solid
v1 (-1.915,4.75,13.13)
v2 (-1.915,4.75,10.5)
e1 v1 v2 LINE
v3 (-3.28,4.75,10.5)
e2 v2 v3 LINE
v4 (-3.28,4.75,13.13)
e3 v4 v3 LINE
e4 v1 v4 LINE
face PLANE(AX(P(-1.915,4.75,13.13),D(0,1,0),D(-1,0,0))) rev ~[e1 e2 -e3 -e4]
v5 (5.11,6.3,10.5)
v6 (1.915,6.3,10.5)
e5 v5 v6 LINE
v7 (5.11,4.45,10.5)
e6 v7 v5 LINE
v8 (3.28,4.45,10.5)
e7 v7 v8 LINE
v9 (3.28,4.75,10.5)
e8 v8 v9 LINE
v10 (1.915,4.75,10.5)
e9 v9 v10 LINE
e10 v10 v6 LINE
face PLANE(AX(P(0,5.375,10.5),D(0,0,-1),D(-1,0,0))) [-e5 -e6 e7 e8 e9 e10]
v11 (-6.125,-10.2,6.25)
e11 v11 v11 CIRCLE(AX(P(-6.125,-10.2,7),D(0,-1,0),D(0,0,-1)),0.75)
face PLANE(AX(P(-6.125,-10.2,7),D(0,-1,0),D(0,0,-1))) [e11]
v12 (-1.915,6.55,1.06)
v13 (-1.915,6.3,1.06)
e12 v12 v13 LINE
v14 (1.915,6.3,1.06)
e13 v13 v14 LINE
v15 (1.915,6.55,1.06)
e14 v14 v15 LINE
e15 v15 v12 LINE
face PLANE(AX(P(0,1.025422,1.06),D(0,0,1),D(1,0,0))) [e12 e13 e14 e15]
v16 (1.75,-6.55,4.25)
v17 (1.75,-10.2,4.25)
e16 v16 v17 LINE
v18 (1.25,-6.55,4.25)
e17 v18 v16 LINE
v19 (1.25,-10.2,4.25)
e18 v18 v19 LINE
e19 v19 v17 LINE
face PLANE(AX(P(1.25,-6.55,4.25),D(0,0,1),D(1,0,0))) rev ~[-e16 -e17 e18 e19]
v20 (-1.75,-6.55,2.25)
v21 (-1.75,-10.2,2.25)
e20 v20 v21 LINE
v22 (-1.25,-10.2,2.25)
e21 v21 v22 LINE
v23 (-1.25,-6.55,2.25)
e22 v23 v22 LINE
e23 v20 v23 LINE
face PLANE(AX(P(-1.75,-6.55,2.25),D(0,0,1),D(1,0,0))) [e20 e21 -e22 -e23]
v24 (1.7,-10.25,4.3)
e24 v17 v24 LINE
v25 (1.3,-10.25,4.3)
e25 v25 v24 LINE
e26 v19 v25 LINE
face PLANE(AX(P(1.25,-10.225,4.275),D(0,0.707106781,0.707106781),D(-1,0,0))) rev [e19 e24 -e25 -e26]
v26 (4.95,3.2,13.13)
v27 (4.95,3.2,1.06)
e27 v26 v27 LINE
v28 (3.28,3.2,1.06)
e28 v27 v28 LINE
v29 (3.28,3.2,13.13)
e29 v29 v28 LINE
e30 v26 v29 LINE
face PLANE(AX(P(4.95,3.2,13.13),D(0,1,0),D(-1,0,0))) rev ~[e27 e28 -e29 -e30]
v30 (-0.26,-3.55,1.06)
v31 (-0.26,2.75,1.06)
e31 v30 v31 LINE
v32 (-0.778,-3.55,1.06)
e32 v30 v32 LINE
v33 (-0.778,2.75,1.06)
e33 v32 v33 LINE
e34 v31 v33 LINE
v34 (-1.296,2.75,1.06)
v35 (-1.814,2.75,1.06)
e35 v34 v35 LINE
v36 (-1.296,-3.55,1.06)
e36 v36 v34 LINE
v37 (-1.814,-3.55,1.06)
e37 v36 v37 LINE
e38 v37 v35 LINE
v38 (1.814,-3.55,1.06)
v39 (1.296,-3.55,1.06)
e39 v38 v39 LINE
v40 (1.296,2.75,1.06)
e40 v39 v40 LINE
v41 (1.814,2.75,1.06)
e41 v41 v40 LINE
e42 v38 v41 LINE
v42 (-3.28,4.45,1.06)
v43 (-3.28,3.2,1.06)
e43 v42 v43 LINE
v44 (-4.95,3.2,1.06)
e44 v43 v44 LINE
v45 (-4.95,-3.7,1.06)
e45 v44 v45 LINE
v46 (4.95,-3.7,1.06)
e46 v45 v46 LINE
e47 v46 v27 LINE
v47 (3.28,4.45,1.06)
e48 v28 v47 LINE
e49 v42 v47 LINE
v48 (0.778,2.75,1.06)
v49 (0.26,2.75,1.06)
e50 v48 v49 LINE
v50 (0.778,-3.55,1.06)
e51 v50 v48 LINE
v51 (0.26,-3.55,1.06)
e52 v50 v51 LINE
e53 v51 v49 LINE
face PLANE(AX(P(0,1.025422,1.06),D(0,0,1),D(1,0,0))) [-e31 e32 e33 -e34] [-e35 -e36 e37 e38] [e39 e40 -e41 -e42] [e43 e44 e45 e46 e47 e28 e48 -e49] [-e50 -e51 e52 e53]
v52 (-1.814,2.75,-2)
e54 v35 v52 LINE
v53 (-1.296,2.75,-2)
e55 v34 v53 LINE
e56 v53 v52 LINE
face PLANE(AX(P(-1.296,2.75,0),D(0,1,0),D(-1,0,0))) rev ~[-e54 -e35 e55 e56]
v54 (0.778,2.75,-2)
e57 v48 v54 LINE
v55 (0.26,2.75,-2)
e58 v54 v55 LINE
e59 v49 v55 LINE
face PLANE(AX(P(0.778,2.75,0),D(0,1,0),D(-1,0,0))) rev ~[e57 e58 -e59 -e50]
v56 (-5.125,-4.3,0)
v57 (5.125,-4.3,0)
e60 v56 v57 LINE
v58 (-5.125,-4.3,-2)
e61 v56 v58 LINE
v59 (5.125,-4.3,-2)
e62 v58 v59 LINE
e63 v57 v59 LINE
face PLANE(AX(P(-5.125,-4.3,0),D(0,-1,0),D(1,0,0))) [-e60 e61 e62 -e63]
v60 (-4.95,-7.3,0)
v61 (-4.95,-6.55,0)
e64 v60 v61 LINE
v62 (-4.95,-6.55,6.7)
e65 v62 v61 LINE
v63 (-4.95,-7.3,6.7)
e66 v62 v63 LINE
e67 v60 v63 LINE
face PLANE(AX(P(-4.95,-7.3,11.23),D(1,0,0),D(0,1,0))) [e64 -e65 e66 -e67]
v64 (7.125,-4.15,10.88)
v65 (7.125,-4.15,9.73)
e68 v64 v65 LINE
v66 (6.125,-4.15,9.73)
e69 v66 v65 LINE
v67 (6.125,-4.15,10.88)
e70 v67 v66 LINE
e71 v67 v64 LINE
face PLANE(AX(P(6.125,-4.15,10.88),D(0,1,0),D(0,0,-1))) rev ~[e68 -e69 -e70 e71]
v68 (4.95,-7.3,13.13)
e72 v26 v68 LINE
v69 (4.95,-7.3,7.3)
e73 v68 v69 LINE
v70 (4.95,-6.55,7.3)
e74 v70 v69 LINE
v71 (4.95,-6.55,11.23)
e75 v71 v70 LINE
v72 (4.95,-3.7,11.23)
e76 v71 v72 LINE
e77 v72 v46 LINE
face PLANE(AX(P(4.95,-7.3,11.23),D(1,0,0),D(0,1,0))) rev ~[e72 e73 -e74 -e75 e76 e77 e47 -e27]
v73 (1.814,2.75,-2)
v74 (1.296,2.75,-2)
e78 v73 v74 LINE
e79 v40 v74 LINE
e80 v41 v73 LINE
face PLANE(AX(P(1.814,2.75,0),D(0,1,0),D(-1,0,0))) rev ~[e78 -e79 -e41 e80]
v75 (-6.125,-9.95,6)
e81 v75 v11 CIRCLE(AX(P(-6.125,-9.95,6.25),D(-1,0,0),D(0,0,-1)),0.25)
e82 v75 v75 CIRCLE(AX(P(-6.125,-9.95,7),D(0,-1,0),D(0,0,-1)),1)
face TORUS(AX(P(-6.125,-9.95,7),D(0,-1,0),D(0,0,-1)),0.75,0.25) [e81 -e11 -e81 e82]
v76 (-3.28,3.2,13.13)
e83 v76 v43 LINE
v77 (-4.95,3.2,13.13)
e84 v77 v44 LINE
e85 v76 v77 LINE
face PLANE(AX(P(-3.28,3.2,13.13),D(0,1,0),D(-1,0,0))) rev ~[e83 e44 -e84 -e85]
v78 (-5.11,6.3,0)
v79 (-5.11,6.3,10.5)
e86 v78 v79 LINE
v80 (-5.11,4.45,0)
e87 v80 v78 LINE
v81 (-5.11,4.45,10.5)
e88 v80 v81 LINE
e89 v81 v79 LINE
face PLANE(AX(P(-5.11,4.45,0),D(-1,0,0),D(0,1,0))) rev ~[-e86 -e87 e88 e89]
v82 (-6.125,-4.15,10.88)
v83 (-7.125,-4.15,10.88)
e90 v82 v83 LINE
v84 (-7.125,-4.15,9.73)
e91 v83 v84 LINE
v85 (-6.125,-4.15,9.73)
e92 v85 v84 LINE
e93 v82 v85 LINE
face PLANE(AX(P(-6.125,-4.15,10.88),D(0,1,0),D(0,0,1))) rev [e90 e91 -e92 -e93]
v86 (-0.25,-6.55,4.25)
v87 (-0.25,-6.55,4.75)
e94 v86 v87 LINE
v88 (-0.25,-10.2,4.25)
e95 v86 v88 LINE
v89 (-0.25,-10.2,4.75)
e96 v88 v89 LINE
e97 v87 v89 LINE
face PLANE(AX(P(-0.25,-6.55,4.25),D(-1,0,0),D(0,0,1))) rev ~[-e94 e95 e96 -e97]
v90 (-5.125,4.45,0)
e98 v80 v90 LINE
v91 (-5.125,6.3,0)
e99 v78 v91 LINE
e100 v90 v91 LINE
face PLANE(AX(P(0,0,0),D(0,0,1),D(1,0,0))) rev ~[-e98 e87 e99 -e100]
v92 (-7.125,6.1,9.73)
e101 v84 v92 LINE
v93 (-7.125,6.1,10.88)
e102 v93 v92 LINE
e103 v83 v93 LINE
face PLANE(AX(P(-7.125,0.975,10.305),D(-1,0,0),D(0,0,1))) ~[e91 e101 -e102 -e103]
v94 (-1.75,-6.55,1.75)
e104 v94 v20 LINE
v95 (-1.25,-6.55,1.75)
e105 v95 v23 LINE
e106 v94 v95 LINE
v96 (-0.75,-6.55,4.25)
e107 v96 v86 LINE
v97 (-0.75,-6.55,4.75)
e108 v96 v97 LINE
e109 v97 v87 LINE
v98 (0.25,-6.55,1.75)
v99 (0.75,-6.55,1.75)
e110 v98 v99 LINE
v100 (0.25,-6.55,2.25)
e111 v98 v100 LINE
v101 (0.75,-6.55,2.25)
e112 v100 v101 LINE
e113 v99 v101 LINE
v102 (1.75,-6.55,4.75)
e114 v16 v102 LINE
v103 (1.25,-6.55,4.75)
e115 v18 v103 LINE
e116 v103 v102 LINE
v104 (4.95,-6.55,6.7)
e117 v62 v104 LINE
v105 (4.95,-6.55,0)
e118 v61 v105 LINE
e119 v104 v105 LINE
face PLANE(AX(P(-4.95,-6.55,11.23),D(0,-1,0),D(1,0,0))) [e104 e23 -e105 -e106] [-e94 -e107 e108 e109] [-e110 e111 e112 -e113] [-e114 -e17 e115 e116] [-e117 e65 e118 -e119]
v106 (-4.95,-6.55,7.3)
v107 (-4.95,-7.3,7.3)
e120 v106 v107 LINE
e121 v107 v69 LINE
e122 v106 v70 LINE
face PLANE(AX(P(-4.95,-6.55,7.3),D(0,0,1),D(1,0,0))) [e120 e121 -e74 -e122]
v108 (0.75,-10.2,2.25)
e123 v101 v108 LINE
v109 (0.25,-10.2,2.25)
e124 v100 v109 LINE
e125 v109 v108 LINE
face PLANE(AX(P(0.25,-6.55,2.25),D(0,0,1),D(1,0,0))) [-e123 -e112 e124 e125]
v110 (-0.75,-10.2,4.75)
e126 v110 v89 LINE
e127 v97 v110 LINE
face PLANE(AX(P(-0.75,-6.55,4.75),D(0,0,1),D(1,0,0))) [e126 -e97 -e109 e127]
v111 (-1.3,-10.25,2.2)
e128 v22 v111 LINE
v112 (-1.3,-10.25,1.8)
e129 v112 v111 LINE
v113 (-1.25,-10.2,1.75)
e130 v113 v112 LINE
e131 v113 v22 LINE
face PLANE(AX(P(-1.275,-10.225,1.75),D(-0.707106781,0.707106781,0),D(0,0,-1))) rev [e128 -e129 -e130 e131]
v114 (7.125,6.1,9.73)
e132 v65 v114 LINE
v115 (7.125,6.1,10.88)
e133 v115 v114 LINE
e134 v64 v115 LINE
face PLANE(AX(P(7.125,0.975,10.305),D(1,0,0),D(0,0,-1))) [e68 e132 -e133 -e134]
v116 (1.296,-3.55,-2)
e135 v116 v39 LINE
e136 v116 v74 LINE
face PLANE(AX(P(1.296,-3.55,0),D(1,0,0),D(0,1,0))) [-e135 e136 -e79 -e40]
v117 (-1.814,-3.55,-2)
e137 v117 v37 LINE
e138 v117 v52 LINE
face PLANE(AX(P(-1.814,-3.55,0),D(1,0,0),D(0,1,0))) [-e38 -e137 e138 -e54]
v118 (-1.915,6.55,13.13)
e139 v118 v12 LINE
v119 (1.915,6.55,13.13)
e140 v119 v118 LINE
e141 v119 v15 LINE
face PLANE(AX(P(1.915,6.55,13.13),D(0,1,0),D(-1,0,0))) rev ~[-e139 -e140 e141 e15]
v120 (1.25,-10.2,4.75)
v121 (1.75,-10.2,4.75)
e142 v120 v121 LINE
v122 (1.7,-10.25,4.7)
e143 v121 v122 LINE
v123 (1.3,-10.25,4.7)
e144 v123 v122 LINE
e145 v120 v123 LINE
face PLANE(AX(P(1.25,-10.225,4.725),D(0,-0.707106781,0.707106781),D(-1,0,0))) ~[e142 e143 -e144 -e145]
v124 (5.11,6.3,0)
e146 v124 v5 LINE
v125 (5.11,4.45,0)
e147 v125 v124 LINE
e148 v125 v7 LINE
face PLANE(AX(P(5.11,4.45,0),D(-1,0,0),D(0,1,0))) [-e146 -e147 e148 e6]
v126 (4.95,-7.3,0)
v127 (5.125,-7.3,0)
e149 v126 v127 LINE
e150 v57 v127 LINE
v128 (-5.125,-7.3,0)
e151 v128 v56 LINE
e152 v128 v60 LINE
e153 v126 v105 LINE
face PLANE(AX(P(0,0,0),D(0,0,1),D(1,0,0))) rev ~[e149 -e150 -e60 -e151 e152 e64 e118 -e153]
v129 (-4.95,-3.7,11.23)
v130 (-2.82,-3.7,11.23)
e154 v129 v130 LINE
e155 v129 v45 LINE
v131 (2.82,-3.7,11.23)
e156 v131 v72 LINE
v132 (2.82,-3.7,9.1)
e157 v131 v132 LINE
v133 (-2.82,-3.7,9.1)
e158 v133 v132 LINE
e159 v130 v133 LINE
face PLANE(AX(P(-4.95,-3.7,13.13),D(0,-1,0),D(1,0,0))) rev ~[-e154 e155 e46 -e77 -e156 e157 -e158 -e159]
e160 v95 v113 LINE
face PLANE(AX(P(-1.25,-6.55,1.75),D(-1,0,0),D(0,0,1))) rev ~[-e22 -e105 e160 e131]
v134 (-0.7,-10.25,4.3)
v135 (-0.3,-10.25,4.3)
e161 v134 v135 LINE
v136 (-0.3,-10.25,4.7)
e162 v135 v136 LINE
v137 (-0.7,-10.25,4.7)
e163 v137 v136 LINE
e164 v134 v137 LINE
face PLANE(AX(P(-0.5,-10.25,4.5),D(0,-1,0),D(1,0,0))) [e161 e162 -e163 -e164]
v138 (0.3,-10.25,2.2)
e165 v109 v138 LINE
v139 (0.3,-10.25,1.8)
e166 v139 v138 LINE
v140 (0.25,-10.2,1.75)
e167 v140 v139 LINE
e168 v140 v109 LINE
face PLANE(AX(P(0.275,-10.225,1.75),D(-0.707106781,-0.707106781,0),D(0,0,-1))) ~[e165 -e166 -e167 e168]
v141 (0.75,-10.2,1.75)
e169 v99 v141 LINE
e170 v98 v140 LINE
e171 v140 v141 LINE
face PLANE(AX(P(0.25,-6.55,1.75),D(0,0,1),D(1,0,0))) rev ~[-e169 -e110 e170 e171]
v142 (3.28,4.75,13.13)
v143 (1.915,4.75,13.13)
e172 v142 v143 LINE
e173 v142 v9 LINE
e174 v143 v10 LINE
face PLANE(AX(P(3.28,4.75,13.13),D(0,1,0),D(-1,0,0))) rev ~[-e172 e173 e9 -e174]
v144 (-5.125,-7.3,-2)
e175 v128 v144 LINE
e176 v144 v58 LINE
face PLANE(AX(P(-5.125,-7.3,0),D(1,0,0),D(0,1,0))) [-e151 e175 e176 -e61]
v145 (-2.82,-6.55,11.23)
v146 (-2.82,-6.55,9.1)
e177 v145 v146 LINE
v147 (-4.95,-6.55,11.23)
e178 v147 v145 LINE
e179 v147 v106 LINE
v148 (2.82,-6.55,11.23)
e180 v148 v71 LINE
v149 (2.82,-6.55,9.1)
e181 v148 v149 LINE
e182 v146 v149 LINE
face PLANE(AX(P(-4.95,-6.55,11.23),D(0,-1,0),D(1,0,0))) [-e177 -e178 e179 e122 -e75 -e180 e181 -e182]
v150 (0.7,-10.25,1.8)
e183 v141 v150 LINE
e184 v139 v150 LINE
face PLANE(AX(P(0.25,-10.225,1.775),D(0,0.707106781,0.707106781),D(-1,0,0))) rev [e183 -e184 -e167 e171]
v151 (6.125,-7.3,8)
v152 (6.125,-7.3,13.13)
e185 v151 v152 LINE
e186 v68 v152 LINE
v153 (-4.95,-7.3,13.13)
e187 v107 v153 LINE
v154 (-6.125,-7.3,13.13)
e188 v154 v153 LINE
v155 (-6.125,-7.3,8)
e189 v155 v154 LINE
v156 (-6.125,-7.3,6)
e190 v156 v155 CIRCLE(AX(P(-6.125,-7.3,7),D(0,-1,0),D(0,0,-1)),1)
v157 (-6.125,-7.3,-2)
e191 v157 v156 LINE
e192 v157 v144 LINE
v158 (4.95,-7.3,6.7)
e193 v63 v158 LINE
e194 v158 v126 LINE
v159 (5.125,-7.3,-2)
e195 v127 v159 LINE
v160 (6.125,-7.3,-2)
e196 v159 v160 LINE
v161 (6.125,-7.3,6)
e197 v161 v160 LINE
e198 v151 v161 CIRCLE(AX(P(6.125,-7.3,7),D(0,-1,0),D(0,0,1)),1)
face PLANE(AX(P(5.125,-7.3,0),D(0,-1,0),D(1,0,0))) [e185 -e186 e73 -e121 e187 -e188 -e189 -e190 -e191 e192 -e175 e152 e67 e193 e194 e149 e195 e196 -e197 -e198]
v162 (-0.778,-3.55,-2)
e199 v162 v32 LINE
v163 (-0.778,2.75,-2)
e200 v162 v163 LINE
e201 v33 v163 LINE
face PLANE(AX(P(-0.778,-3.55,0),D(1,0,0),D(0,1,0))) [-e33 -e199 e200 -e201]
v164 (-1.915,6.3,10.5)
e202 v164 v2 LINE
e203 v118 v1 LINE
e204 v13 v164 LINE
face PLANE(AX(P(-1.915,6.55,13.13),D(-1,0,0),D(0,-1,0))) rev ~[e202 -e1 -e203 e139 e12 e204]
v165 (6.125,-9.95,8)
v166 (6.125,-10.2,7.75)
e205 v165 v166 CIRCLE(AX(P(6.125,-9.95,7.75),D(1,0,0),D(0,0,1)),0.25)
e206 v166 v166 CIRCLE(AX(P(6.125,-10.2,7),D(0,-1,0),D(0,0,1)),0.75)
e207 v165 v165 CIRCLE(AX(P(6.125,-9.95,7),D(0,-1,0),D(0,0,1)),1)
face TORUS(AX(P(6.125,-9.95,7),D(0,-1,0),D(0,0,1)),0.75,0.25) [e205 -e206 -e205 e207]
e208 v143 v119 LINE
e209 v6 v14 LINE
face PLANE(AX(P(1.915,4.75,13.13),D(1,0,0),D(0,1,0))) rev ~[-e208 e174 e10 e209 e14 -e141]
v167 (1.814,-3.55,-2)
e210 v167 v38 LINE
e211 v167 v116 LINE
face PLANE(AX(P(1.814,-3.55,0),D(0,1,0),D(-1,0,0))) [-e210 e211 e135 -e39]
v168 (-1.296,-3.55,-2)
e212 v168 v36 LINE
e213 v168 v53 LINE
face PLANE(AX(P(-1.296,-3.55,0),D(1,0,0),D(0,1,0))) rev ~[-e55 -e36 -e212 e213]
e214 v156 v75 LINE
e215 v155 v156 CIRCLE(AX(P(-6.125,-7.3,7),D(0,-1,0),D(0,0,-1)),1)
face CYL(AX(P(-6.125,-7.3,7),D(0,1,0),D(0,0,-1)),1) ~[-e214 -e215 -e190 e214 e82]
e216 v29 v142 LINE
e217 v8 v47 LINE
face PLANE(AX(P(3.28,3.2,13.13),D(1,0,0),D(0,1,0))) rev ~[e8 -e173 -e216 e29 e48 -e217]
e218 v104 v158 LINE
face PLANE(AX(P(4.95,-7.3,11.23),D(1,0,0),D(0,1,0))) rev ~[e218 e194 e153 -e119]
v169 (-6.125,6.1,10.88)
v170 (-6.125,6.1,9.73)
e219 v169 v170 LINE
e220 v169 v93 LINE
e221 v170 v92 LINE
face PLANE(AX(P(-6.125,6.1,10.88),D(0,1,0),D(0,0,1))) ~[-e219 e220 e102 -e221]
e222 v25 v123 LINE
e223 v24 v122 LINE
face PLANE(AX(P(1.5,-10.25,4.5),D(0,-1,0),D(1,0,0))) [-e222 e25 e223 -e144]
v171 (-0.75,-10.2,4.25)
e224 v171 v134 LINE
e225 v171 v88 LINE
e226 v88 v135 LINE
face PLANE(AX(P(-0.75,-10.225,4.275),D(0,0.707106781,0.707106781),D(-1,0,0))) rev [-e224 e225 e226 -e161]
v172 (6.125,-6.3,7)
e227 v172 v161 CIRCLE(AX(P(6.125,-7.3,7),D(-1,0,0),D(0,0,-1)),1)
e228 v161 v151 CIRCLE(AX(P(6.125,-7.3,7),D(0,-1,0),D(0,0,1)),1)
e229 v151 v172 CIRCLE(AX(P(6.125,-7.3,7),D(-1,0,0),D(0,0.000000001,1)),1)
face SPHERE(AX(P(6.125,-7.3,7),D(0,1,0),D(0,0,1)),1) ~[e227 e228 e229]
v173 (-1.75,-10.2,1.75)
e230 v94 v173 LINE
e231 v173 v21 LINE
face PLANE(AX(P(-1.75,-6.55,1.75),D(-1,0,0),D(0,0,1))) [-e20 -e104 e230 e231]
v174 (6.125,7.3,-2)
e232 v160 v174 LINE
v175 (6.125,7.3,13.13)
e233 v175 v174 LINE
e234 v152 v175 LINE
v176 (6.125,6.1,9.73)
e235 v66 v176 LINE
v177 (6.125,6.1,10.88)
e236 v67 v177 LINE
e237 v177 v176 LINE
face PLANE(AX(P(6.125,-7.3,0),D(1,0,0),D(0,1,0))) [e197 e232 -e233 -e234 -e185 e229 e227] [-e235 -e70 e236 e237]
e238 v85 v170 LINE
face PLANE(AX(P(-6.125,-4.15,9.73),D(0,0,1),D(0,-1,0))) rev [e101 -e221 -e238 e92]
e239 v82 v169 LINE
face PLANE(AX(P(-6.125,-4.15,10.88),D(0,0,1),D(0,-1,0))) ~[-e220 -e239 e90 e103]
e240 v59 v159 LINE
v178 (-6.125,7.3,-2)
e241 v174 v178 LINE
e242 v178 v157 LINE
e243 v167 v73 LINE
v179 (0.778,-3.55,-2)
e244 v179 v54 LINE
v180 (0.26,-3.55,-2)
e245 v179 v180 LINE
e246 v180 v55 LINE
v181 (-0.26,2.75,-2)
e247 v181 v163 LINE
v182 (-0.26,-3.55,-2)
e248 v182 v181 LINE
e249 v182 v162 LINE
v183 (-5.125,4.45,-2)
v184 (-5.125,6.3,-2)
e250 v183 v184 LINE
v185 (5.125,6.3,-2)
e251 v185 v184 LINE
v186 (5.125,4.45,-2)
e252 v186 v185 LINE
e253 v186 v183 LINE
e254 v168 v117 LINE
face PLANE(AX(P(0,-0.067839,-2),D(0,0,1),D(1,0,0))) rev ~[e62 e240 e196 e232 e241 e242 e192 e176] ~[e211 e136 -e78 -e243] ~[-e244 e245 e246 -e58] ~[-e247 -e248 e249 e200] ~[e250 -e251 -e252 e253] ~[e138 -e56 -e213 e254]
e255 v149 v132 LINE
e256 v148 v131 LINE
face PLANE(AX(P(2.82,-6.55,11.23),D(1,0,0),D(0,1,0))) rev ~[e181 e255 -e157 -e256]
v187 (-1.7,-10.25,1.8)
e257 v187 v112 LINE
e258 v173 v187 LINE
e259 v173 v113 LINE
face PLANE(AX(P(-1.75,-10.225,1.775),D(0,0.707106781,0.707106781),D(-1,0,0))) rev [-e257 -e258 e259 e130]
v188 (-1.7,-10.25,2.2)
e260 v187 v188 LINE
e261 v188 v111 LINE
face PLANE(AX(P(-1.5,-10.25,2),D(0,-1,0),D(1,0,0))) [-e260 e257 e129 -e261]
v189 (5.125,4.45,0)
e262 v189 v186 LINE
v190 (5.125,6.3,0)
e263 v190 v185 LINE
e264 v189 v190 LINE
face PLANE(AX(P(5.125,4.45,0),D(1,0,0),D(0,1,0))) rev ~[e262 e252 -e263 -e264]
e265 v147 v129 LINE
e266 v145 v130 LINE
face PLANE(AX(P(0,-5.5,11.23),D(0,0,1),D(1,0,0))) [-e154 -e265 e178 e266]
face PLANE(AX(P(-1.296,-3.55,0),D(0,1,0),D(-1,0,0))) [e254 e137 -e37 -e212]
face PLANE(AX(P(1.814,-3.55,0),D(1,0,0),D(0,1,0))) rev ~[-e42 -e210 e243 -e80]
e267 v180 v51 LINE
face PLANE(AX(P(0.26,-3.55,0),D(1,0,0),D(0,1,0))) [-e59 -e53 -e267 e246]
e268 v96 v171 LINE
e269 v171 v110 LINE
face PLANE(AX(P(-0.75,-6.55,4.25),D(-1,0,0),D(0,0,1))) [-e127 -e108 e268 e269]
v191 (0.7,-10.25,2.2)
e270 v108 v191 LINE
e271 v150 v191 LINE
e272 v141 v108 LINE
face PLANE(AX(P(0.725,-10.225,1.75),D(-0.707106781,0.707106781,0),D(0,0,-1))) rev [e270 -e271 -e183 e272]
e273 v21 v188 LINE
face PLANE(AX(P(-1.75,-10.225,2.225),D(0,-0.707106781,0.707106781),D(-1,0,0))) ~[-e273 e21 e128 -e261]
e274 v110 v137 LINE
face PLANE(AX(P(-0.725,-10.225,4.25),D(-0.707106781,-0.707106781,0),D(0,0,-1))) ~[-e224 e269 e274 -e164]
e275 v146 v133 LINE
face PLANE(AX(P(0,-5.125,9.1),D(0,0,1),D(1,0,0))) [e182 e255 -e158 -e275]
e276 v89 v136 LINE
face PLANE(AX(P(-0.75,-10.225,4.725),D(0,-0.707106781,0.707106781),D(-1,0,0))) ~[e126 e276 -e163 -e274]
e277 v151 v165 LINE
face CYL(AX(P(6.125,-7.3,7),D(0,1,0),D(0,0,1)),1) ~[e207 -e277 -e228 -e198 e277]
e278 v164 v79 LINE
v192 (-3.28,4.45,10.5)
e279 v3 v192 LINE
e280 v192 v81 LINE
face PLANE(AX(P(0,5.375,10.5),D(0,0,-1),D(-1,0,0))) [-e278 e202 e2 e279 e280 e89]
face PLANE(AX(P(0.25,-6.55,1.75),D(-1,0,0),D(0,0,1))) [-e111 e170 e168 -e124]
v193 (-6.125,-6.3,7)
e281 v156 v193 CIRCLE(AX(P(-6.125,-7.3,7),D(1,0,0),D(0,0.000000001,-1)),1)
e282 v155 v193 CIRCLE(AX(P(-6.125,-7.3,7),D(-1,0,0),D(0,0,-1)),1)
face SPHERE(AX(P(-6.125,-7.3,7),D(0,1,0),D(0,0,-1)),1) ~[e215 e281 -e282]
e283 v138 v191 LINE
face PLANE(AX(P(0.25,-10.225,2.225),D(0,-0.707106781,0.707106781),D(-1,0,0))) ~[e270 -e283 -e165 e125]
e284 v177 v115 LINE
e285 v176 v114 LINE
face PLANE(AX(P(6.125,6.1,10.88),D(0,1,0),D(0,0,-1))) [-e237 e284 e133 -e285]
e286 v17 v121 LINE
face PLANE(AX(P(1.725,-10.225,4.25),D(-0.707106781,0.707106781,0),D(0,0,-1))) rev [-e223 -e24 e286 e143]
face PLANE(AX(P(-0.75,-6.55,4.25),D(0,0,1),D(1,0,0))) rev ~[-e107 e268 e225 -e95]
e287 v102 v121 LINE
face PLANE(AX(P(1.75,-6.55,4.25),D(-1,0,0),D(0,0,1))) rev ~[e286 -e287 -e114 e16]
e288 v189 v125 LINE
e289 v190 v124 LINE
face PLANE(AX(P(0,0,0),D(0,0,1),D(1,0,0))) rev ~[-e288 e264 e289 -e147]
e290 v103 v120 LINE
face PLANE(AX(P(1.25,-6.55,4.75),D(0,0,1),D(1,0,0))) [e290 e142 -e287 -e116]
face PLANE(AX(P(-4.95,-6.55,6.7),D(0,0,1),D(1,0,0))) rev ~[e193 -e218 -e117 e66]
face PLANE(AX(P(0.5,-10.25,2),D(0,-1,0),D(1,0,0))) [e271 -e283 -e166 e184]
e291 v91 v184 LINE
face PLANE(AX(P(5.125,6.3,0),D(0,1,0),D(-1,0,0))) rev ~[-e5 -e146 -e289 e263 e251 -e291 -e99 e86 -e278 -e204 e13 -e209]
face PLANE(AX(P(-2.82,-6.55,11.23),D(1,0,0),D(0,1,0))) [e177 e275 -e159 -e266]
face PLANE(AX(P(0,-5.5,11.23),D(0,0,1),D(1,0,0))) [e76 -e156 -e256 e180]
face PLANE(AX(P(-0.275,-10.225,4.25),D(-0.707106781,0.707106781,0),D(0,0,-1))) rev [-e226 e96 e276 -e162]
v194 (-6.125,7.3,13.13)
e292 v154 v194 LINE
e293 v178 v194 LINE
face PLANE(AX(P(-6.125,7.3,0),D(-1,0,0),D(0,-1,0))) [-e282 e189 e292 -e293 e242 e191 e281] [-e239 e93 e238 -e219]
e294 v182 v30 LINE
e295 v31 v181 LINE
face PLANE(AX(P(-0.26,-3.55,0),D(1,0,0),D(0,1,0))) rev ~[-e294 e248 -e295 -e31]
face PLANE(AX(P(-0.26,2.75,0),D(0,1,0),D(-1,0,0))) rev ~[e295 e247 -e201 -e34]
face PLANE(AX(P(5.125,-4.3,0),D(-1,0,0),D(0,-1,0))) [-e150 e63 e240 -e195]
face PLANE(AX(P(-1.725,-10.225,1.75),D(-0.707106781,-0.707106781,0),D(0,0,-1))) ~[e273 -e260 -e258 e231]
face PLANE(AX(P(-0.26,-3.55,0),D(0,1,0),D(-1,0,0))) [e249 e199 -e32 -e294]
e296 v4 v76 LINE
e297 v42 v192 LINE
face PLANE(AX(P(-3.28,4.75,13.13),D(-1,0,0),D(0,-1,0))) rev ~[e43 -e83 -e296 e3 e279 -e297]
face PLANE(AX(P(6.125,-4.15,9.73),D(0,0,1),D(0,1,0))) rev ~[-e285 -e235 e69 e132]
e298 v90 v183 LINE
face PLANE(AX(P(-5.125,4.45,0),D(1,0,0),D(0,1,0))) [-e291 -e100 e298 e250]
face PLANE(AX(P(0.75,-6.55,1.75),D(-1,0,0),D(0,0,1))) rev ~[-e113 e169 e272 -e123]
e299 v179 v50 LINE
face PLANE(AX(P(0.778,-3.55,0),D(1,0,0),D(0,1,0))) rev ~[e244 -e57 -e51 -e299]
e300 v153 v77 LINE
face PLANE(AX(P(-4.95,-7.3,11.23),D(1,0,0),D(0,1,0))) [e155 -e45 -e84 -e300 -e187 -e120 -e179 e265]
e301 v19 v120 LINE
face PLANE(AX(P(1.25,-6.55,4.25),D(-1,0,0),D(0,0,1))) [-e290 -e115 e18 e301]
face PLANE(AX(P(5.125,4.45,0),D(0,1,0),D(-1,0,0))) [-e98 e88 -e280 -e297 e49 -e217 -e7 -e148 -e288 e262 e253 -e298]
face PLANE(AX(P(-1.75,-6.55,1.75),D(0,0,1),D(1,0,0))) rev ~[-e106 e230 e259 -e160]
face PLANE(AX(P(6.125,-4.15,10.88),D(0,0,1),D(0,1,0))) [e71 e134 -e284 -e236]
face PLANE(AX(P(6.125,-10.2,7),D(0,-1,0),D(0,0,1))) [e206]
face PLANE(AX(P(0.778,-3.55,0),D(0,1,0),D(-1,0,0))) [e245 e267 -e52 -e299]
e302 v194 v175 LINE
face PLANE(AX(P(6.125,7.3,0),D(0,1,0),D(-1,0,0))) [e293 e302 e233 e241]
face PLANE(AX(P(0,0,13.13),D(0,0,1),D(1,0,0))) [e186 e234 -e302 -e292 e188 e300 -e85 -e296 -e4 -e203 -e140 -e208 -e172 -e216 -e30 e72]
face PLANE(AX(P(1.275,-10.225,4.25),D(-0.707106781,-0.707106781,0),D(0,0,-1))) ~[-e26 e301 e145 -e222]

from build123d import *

# Parameters (mm, degrees)
SKETCH1_W           = 12.25
SKETCH1_H           = 14.6
BOSS_EXTRUDE1_DEPTH = 13.13
CUT_EXTRUDE1_DEPTH  = 12.07
SKETCH4_W           = 10.22
SKETCH4_H           = 1.85
CUT_EXTRUDE3_DEPTH  = 10.5
CUT_EXTRUDE4_REACH  = 18.224
SKETCH5_W           = 0.518
SKETCH5_H           = 6.3
SKETCH6_W           = 9.9
SKETCH6_H           = 3.6
CUT_EXTRUDE5_DEPTH  = 1.9
SKETCH10_W          = 5.64
SKETCH10_H          = 2.85
CUT_EXTRUDE7_DEPTH  = 2.13
SKETCH11_W          = 9.9
SKETCH11_H          = 0.75
CUT_EXTRUDE8_DEPTH  = 15.728154161
SKETCH12_R          = 1
BOSS_EXTRUDE2_DEPTH = 2.9
FILLET1_R           = 0.25
SKETCH15_W          = 0.5
SKETCH15_H          = 0.5
BOSS_EXTRUDE3_DEPTH = 3.7
CHAMFER1_SIZE       = 0.05
SKETCH16_W          = 9.9
SKETCH16_H          = 0.6
BOSS_EXTRUDE4_DEPTH = 0.75
SKETCH17_W          = 0.518
SKETCH17_H          = 6.3
SKETCH17_W_2        = 10.25
SKETCH17_H_2        = 1.85
BOSS_EXTRUDE5_DEPTH = 2
SKETCH18_W          = 1.15
SKETCH18_H          = 10.25
BOSS_EXTRUDE6_DEPTH = 1


with BuildPart() as part:
    # Sketch1 → Boss-Extrude1 (new body)
    with BuildSketch(Plane.XY):
        Rectangle(SKETCH1_W, SKETCH1_H)
    extrude(amount=BOSS_EXTRUDE1_DEPTH)

    # Sketch2 → Cut-Extrude1 (cut)
    with BuildSketch(Plane.XY.offset(13.13)):
        Polygon((3.28, 3.2), (3.28, 4.75), (1.915, 4.75), (1.915, 6.55), (-1.915, 6.55), (-1.915, 4.75), (-3.28, 4.75), (-3.28, 3.2), (-4.95, 3.2), (-4.95, -3.7), (4.95, -3.7), (4.95, 3.2), align=None)
    extrude(amount=-CUT_EXTRUDE1_DEPTH, mode=Mode.SUBTRACT)

    # Sketch4 → Cut-Extrude3 (cut)
    with BuildSketch(Plane(origin=(0, 0, 0), x_dir=(-1, 0, 0), z_dir=(0, 0, -1))):
        with Locations((0, 5.375)):
            Rectangle(SKETCH4_W, SKETCH4_H)
    extrude(amount=-CUT_EXTRUDE3_DEPTH, mode=Mode.SUBTRACT)

    # Sketch5 → Cut-Extrude4 (cut, up to next)
    with BuildSketch(Plane(origin=(0, 0, 0), x_dir=(-1, 0, 0), z_dir=(0, 0, -1)), mode=Mode.PRIVATE) as cut_extrude4_sk1:
        with Locations((-1.555, -0.4)):
            Rectangle(SKETCH5_W, SKETCH5_H)
    cut_extrude4_tool1 = extrude(cut_extrude4_sk1.sketch, amount=-CUT_EXTRUDE4_REACH, mode=Mode.PRIVATE) & part.part
    # Sketch5 → Cut-Extrude4 (cut, up to next)
    with BuildSketch(Plane(origin=(0, 0, 0), x_dir=(-1, 0, 0), z_dir=(0, 0, -1)), mode=Mode.PRIVATE) as cut_extrude4_sk2:
        with Locations((-0.519, -0.4)):
            Rectangle(SKETCH5_W, SKETCH5_H)
    cut_extrude4_tool2 = extrude(cut_extrude4_sk2.sketch, amount=-CUT_EXTRUDE4_REACH, mode=Mode.PRIVATE) & part.part
    # Sketch5 → Cut-Extrude4 (cut, up to next)
    with BuildSketch(Plane(origin=(0, 0, 0), x_dir=(-1, 0, 0), z_dir=(0, 0, -1)), mode=Mode.PRIVATE) as cut_extrude4_sk3:
        with Locations((0.519, -0.4)):
            Rectangle(SKETCH5_W, SKETCH5_H)
    cut_extrude4_tool3 = extrude(cut_extrude4_sk3.sketch, amount=-CUT_EXTRUDE4_REACH, mode=Mode.PRIVATE) & part.part
    # Sketch5 → Cut-Extrude4 (cut, up to next)
    with BuildSketch(Plane(origin=(0, 0, 0), x_dir=(-1, 0, 0), z_dir=(0, 0, -1)), mode=Mode.PRIVATE) as cut_extrude4_sk4:
        with Locations((1.555, -0.4)):
            Rectangle(SKETCH5_W, SKETCH5_H)
    cut_extrude4_tool4 = extrude(cut_extrude4_sk4.sketch, amount=-CUT_EXTRUDE4_REACH, mode=Mode.PRIVATE) & part.part
    add(cut_extrude4_tool1.solids().sort_by_distance((1.555, -0.4, 0))[0], mode=Mode.SUBTRACT)
    add(cut_extrude4_tool2.solids().sort_by_distance((0.519, -0.4, 0))[0], mode=Mode.SUBTRACT)
    add(cut_extrude4_tool3.solids().sort_by_distance((-0.519, -0.4, 0))[0], mode=Mode.SUBTRACT)
    add(cut_extrude4_tool4.solids().sort_by_distance((-1.555, -0.4, 0))[0], mode=Mode.SUBTRACT)

    # Sketch6 → Cut-Extrude5 (cut)
    with BuildSketch(Plane.XY.offset(13.13)):
        with Locations((0, -5.5)):
            Rectangle(SKETCH6_W, SKETCH6_H)
    extrude(amount=-CUT_EXTRUDE5_DEPTH, mode=Mode.SUBTRACT)

    # Sketch10 → Cut-Extrude7 (cut)
    with BuildSketch(Plane.XY.offset(11.23)):
        with Locations((0, -5.125)):
            Rectangle(SKETCH10_W, SKETCH10_H)
    extrude(amount=-CUT_EXTRUDE7_DEPTH, mode=Mode.SUBTRACT)

    # Sketch11 → Cut-Extrude8 (cut, through all)
    with BuildSketch(Plane.XY.offset(11.23)):
        with Locations((0, -6.925)):
            Rectangle(SKETCH11_W, SKETCH11_H)
    extrude(amount=-CUT_EXTRUDE8_DEPTH, mode=Mode.SUBTRACT)

    # Sketch12 → Boss-Extrude2 (add)
    with BuildSketch(Plane.XZ.offset(7.3)):
        with Locations(Location((-6.125, 7, 0), (0, 0, 270))):
            Circle(SKETCH12_R)
        with Locations(Location((6.125, 7, 0), (0, 0, 90))):
            Circle(SKETCH12_R)
    extrude(amount=BOSS_EXTRUDE2_DEPTH)

    # Sketch13 → Revolve1 (revolve)
    with BuildSketch(Plane(origin=(6.125, 0, 0), x_dir=(0, 0, -1), z_dir=(1, 0, 0))):
        with BuildLine():
            Line((-7, -6.3), (-7, -7.3))
            Line((-7, -7.3), (-8, -7.3))
            ThreePointArc((-8, -7.3), (-7.707106781, -6.592893219), (-7, -6.3))
        make_face()
    revolve(axis=Axis((6.125, -6.3, 7), (0, -1, 0)))

    # Sketch14 → Revolve2 (revolve)
    with BuildSketch(Plane.ZY.offset(6.125)):
        with BuildLine():
            Line((7, -6.3), (7, -7.3))
            Line((7, -7.3), (6, -7.3))
            ThreePointArc((6, -7.3), (6.292893219, -6.592893219), (7, -6.3))
        make_face()
    revolve(axis=Axis((-6.125, -6.3, 7), (0, -1, 0)))

    # Fillet1
    fillet1_edges = [part.edges().sort_by_distance(p)[0] for p in [
        (-6.125, -10.2, 8),
        (6.125, -10.2, 6),
    ]]
    fillet(fillet1_edges, radius=FILLET1_R)

    # Sketch15 → Boss-Extrude3 (add)
    with BuildSketch(Plane.XZ.offset(6.55)):
        with Locations((-0.5, 4.5)):
            Rectangle(SKETCH15_W, SKETCH15_H)
        with Locations((-1.5, 2)):
            Rectangle(SKETCH15_W, SKETCH15_H)
        with Locations((0.5, 2)):
            Rectangle(SKETCH15_W, SKETCH15_H)
        with Locations((1.5, 4.5)):
            Rectangle(SKETCH15_W, SKETCH15_H)
    extrude(amount=BOSS_EXTRUDE3_DEPTH)

    # Chamfer1
    chamfer1_edges = [part.edges().sort_by_distance(p)[0] for p in [
        (-0.25, -10.25, 4.5),
        (-0.5, -10.25, 4.75),
        (-0.75, -10.25, 4.5),
        (-0.5, -10.25, 4.25),
        (-1.25, -10.25, 2),
        (-1.5, -10.25, 2.25),
        (-1.75, -10.25, 2),
        (-1.5, -10.25, 1.75),
        (0.75, -10.25, 2),
        (0.5, -10.25, 2.25),
        (0.25, -10.25, 2),
        (0.5, -10.25, 1.75),
        (1.75, -10.25, 4.5),
        (1.5, -10.25, 4.75),
        (1.25, -10.25, 4.5),
        (1.5, -10.25, 4.25),
    ]]
    chamfer(chamfer1_edges, length=CHAMFER1_SIZE)

    # Sketch16 → Boss-Extrude4 (add)
    with BuildSketch(Plane.XZ.offset(6.55)):
        with Locations((0, 7)):
            Rectangle(SKETCH16_W, SKETCH16_H)
    extrude(amount=BOSS_EXTRUDE4_DEPTH)

    # Sketch17 → Boss-Extrude5 (add)
    with BuildSketch(Plane(origin=(0, 0, 0), x_dir=(-1, 0, 0), z_dir=(0, 0, -1))):
        Polygon((-6.125, 7.3), (6.125, 7.3), (6.125, -7.3), (5.125, -7.3), (5.125, -4.3), (-5.125, -4.3), (-5.125, -7.3), (-6.125, -7.3), align=None)
        with Locations((-1.555, -0.4)):
            Rectangle(SKETCH17_W, SKETCH17_H, mode=Mode.SUBTRACT)
        with Locations((-0.519, -0.4)):
            Rectangle(SKETCH17_W, SKETCH17_H, mode=Mode.SUBTRACT)
        with Locations((0.519, -0.4)):
            Rectangle(SKETCH17_W, SKETCH17_H, mode=Mode.SUBTRACT)
        with Locations((1.555, -0.4)):
            Rectangle(SKETCH17_W, SKETCH17_H, mode=Mode.SUBTRACT)
        with Locations((0, 5.375)):
            Rectangle(SKETCH17_W_2, SKETCH17_H_2, mode=Mode.SUBTRACT)
    extrude(amount=BOSS_EXTRUDE5_DEPTH)

    # Sketch18 → Boss-Extrude6 (add)
    with BuildSketch(Plane(origin=(6.125, 0, 0), x_dir=(0, 0, -1), z_dir=(1, 0, 0))):
        with Locations((-10.305, 0.975)):
            Rectangle(SKETCH18_W, SKETCH18_H)
    boss_extrude6 = extrude(amount=BOSS_EXTRUDE6_DEPTH)

    # Mirror1: Boss-Extrude6 across plane
    add(boss_extrude6.mirror(Plane(origin=(0, 0, 0), x_dir=(0, 0, 1), z_dir=(1, 0, 0))))


solid = part.part
